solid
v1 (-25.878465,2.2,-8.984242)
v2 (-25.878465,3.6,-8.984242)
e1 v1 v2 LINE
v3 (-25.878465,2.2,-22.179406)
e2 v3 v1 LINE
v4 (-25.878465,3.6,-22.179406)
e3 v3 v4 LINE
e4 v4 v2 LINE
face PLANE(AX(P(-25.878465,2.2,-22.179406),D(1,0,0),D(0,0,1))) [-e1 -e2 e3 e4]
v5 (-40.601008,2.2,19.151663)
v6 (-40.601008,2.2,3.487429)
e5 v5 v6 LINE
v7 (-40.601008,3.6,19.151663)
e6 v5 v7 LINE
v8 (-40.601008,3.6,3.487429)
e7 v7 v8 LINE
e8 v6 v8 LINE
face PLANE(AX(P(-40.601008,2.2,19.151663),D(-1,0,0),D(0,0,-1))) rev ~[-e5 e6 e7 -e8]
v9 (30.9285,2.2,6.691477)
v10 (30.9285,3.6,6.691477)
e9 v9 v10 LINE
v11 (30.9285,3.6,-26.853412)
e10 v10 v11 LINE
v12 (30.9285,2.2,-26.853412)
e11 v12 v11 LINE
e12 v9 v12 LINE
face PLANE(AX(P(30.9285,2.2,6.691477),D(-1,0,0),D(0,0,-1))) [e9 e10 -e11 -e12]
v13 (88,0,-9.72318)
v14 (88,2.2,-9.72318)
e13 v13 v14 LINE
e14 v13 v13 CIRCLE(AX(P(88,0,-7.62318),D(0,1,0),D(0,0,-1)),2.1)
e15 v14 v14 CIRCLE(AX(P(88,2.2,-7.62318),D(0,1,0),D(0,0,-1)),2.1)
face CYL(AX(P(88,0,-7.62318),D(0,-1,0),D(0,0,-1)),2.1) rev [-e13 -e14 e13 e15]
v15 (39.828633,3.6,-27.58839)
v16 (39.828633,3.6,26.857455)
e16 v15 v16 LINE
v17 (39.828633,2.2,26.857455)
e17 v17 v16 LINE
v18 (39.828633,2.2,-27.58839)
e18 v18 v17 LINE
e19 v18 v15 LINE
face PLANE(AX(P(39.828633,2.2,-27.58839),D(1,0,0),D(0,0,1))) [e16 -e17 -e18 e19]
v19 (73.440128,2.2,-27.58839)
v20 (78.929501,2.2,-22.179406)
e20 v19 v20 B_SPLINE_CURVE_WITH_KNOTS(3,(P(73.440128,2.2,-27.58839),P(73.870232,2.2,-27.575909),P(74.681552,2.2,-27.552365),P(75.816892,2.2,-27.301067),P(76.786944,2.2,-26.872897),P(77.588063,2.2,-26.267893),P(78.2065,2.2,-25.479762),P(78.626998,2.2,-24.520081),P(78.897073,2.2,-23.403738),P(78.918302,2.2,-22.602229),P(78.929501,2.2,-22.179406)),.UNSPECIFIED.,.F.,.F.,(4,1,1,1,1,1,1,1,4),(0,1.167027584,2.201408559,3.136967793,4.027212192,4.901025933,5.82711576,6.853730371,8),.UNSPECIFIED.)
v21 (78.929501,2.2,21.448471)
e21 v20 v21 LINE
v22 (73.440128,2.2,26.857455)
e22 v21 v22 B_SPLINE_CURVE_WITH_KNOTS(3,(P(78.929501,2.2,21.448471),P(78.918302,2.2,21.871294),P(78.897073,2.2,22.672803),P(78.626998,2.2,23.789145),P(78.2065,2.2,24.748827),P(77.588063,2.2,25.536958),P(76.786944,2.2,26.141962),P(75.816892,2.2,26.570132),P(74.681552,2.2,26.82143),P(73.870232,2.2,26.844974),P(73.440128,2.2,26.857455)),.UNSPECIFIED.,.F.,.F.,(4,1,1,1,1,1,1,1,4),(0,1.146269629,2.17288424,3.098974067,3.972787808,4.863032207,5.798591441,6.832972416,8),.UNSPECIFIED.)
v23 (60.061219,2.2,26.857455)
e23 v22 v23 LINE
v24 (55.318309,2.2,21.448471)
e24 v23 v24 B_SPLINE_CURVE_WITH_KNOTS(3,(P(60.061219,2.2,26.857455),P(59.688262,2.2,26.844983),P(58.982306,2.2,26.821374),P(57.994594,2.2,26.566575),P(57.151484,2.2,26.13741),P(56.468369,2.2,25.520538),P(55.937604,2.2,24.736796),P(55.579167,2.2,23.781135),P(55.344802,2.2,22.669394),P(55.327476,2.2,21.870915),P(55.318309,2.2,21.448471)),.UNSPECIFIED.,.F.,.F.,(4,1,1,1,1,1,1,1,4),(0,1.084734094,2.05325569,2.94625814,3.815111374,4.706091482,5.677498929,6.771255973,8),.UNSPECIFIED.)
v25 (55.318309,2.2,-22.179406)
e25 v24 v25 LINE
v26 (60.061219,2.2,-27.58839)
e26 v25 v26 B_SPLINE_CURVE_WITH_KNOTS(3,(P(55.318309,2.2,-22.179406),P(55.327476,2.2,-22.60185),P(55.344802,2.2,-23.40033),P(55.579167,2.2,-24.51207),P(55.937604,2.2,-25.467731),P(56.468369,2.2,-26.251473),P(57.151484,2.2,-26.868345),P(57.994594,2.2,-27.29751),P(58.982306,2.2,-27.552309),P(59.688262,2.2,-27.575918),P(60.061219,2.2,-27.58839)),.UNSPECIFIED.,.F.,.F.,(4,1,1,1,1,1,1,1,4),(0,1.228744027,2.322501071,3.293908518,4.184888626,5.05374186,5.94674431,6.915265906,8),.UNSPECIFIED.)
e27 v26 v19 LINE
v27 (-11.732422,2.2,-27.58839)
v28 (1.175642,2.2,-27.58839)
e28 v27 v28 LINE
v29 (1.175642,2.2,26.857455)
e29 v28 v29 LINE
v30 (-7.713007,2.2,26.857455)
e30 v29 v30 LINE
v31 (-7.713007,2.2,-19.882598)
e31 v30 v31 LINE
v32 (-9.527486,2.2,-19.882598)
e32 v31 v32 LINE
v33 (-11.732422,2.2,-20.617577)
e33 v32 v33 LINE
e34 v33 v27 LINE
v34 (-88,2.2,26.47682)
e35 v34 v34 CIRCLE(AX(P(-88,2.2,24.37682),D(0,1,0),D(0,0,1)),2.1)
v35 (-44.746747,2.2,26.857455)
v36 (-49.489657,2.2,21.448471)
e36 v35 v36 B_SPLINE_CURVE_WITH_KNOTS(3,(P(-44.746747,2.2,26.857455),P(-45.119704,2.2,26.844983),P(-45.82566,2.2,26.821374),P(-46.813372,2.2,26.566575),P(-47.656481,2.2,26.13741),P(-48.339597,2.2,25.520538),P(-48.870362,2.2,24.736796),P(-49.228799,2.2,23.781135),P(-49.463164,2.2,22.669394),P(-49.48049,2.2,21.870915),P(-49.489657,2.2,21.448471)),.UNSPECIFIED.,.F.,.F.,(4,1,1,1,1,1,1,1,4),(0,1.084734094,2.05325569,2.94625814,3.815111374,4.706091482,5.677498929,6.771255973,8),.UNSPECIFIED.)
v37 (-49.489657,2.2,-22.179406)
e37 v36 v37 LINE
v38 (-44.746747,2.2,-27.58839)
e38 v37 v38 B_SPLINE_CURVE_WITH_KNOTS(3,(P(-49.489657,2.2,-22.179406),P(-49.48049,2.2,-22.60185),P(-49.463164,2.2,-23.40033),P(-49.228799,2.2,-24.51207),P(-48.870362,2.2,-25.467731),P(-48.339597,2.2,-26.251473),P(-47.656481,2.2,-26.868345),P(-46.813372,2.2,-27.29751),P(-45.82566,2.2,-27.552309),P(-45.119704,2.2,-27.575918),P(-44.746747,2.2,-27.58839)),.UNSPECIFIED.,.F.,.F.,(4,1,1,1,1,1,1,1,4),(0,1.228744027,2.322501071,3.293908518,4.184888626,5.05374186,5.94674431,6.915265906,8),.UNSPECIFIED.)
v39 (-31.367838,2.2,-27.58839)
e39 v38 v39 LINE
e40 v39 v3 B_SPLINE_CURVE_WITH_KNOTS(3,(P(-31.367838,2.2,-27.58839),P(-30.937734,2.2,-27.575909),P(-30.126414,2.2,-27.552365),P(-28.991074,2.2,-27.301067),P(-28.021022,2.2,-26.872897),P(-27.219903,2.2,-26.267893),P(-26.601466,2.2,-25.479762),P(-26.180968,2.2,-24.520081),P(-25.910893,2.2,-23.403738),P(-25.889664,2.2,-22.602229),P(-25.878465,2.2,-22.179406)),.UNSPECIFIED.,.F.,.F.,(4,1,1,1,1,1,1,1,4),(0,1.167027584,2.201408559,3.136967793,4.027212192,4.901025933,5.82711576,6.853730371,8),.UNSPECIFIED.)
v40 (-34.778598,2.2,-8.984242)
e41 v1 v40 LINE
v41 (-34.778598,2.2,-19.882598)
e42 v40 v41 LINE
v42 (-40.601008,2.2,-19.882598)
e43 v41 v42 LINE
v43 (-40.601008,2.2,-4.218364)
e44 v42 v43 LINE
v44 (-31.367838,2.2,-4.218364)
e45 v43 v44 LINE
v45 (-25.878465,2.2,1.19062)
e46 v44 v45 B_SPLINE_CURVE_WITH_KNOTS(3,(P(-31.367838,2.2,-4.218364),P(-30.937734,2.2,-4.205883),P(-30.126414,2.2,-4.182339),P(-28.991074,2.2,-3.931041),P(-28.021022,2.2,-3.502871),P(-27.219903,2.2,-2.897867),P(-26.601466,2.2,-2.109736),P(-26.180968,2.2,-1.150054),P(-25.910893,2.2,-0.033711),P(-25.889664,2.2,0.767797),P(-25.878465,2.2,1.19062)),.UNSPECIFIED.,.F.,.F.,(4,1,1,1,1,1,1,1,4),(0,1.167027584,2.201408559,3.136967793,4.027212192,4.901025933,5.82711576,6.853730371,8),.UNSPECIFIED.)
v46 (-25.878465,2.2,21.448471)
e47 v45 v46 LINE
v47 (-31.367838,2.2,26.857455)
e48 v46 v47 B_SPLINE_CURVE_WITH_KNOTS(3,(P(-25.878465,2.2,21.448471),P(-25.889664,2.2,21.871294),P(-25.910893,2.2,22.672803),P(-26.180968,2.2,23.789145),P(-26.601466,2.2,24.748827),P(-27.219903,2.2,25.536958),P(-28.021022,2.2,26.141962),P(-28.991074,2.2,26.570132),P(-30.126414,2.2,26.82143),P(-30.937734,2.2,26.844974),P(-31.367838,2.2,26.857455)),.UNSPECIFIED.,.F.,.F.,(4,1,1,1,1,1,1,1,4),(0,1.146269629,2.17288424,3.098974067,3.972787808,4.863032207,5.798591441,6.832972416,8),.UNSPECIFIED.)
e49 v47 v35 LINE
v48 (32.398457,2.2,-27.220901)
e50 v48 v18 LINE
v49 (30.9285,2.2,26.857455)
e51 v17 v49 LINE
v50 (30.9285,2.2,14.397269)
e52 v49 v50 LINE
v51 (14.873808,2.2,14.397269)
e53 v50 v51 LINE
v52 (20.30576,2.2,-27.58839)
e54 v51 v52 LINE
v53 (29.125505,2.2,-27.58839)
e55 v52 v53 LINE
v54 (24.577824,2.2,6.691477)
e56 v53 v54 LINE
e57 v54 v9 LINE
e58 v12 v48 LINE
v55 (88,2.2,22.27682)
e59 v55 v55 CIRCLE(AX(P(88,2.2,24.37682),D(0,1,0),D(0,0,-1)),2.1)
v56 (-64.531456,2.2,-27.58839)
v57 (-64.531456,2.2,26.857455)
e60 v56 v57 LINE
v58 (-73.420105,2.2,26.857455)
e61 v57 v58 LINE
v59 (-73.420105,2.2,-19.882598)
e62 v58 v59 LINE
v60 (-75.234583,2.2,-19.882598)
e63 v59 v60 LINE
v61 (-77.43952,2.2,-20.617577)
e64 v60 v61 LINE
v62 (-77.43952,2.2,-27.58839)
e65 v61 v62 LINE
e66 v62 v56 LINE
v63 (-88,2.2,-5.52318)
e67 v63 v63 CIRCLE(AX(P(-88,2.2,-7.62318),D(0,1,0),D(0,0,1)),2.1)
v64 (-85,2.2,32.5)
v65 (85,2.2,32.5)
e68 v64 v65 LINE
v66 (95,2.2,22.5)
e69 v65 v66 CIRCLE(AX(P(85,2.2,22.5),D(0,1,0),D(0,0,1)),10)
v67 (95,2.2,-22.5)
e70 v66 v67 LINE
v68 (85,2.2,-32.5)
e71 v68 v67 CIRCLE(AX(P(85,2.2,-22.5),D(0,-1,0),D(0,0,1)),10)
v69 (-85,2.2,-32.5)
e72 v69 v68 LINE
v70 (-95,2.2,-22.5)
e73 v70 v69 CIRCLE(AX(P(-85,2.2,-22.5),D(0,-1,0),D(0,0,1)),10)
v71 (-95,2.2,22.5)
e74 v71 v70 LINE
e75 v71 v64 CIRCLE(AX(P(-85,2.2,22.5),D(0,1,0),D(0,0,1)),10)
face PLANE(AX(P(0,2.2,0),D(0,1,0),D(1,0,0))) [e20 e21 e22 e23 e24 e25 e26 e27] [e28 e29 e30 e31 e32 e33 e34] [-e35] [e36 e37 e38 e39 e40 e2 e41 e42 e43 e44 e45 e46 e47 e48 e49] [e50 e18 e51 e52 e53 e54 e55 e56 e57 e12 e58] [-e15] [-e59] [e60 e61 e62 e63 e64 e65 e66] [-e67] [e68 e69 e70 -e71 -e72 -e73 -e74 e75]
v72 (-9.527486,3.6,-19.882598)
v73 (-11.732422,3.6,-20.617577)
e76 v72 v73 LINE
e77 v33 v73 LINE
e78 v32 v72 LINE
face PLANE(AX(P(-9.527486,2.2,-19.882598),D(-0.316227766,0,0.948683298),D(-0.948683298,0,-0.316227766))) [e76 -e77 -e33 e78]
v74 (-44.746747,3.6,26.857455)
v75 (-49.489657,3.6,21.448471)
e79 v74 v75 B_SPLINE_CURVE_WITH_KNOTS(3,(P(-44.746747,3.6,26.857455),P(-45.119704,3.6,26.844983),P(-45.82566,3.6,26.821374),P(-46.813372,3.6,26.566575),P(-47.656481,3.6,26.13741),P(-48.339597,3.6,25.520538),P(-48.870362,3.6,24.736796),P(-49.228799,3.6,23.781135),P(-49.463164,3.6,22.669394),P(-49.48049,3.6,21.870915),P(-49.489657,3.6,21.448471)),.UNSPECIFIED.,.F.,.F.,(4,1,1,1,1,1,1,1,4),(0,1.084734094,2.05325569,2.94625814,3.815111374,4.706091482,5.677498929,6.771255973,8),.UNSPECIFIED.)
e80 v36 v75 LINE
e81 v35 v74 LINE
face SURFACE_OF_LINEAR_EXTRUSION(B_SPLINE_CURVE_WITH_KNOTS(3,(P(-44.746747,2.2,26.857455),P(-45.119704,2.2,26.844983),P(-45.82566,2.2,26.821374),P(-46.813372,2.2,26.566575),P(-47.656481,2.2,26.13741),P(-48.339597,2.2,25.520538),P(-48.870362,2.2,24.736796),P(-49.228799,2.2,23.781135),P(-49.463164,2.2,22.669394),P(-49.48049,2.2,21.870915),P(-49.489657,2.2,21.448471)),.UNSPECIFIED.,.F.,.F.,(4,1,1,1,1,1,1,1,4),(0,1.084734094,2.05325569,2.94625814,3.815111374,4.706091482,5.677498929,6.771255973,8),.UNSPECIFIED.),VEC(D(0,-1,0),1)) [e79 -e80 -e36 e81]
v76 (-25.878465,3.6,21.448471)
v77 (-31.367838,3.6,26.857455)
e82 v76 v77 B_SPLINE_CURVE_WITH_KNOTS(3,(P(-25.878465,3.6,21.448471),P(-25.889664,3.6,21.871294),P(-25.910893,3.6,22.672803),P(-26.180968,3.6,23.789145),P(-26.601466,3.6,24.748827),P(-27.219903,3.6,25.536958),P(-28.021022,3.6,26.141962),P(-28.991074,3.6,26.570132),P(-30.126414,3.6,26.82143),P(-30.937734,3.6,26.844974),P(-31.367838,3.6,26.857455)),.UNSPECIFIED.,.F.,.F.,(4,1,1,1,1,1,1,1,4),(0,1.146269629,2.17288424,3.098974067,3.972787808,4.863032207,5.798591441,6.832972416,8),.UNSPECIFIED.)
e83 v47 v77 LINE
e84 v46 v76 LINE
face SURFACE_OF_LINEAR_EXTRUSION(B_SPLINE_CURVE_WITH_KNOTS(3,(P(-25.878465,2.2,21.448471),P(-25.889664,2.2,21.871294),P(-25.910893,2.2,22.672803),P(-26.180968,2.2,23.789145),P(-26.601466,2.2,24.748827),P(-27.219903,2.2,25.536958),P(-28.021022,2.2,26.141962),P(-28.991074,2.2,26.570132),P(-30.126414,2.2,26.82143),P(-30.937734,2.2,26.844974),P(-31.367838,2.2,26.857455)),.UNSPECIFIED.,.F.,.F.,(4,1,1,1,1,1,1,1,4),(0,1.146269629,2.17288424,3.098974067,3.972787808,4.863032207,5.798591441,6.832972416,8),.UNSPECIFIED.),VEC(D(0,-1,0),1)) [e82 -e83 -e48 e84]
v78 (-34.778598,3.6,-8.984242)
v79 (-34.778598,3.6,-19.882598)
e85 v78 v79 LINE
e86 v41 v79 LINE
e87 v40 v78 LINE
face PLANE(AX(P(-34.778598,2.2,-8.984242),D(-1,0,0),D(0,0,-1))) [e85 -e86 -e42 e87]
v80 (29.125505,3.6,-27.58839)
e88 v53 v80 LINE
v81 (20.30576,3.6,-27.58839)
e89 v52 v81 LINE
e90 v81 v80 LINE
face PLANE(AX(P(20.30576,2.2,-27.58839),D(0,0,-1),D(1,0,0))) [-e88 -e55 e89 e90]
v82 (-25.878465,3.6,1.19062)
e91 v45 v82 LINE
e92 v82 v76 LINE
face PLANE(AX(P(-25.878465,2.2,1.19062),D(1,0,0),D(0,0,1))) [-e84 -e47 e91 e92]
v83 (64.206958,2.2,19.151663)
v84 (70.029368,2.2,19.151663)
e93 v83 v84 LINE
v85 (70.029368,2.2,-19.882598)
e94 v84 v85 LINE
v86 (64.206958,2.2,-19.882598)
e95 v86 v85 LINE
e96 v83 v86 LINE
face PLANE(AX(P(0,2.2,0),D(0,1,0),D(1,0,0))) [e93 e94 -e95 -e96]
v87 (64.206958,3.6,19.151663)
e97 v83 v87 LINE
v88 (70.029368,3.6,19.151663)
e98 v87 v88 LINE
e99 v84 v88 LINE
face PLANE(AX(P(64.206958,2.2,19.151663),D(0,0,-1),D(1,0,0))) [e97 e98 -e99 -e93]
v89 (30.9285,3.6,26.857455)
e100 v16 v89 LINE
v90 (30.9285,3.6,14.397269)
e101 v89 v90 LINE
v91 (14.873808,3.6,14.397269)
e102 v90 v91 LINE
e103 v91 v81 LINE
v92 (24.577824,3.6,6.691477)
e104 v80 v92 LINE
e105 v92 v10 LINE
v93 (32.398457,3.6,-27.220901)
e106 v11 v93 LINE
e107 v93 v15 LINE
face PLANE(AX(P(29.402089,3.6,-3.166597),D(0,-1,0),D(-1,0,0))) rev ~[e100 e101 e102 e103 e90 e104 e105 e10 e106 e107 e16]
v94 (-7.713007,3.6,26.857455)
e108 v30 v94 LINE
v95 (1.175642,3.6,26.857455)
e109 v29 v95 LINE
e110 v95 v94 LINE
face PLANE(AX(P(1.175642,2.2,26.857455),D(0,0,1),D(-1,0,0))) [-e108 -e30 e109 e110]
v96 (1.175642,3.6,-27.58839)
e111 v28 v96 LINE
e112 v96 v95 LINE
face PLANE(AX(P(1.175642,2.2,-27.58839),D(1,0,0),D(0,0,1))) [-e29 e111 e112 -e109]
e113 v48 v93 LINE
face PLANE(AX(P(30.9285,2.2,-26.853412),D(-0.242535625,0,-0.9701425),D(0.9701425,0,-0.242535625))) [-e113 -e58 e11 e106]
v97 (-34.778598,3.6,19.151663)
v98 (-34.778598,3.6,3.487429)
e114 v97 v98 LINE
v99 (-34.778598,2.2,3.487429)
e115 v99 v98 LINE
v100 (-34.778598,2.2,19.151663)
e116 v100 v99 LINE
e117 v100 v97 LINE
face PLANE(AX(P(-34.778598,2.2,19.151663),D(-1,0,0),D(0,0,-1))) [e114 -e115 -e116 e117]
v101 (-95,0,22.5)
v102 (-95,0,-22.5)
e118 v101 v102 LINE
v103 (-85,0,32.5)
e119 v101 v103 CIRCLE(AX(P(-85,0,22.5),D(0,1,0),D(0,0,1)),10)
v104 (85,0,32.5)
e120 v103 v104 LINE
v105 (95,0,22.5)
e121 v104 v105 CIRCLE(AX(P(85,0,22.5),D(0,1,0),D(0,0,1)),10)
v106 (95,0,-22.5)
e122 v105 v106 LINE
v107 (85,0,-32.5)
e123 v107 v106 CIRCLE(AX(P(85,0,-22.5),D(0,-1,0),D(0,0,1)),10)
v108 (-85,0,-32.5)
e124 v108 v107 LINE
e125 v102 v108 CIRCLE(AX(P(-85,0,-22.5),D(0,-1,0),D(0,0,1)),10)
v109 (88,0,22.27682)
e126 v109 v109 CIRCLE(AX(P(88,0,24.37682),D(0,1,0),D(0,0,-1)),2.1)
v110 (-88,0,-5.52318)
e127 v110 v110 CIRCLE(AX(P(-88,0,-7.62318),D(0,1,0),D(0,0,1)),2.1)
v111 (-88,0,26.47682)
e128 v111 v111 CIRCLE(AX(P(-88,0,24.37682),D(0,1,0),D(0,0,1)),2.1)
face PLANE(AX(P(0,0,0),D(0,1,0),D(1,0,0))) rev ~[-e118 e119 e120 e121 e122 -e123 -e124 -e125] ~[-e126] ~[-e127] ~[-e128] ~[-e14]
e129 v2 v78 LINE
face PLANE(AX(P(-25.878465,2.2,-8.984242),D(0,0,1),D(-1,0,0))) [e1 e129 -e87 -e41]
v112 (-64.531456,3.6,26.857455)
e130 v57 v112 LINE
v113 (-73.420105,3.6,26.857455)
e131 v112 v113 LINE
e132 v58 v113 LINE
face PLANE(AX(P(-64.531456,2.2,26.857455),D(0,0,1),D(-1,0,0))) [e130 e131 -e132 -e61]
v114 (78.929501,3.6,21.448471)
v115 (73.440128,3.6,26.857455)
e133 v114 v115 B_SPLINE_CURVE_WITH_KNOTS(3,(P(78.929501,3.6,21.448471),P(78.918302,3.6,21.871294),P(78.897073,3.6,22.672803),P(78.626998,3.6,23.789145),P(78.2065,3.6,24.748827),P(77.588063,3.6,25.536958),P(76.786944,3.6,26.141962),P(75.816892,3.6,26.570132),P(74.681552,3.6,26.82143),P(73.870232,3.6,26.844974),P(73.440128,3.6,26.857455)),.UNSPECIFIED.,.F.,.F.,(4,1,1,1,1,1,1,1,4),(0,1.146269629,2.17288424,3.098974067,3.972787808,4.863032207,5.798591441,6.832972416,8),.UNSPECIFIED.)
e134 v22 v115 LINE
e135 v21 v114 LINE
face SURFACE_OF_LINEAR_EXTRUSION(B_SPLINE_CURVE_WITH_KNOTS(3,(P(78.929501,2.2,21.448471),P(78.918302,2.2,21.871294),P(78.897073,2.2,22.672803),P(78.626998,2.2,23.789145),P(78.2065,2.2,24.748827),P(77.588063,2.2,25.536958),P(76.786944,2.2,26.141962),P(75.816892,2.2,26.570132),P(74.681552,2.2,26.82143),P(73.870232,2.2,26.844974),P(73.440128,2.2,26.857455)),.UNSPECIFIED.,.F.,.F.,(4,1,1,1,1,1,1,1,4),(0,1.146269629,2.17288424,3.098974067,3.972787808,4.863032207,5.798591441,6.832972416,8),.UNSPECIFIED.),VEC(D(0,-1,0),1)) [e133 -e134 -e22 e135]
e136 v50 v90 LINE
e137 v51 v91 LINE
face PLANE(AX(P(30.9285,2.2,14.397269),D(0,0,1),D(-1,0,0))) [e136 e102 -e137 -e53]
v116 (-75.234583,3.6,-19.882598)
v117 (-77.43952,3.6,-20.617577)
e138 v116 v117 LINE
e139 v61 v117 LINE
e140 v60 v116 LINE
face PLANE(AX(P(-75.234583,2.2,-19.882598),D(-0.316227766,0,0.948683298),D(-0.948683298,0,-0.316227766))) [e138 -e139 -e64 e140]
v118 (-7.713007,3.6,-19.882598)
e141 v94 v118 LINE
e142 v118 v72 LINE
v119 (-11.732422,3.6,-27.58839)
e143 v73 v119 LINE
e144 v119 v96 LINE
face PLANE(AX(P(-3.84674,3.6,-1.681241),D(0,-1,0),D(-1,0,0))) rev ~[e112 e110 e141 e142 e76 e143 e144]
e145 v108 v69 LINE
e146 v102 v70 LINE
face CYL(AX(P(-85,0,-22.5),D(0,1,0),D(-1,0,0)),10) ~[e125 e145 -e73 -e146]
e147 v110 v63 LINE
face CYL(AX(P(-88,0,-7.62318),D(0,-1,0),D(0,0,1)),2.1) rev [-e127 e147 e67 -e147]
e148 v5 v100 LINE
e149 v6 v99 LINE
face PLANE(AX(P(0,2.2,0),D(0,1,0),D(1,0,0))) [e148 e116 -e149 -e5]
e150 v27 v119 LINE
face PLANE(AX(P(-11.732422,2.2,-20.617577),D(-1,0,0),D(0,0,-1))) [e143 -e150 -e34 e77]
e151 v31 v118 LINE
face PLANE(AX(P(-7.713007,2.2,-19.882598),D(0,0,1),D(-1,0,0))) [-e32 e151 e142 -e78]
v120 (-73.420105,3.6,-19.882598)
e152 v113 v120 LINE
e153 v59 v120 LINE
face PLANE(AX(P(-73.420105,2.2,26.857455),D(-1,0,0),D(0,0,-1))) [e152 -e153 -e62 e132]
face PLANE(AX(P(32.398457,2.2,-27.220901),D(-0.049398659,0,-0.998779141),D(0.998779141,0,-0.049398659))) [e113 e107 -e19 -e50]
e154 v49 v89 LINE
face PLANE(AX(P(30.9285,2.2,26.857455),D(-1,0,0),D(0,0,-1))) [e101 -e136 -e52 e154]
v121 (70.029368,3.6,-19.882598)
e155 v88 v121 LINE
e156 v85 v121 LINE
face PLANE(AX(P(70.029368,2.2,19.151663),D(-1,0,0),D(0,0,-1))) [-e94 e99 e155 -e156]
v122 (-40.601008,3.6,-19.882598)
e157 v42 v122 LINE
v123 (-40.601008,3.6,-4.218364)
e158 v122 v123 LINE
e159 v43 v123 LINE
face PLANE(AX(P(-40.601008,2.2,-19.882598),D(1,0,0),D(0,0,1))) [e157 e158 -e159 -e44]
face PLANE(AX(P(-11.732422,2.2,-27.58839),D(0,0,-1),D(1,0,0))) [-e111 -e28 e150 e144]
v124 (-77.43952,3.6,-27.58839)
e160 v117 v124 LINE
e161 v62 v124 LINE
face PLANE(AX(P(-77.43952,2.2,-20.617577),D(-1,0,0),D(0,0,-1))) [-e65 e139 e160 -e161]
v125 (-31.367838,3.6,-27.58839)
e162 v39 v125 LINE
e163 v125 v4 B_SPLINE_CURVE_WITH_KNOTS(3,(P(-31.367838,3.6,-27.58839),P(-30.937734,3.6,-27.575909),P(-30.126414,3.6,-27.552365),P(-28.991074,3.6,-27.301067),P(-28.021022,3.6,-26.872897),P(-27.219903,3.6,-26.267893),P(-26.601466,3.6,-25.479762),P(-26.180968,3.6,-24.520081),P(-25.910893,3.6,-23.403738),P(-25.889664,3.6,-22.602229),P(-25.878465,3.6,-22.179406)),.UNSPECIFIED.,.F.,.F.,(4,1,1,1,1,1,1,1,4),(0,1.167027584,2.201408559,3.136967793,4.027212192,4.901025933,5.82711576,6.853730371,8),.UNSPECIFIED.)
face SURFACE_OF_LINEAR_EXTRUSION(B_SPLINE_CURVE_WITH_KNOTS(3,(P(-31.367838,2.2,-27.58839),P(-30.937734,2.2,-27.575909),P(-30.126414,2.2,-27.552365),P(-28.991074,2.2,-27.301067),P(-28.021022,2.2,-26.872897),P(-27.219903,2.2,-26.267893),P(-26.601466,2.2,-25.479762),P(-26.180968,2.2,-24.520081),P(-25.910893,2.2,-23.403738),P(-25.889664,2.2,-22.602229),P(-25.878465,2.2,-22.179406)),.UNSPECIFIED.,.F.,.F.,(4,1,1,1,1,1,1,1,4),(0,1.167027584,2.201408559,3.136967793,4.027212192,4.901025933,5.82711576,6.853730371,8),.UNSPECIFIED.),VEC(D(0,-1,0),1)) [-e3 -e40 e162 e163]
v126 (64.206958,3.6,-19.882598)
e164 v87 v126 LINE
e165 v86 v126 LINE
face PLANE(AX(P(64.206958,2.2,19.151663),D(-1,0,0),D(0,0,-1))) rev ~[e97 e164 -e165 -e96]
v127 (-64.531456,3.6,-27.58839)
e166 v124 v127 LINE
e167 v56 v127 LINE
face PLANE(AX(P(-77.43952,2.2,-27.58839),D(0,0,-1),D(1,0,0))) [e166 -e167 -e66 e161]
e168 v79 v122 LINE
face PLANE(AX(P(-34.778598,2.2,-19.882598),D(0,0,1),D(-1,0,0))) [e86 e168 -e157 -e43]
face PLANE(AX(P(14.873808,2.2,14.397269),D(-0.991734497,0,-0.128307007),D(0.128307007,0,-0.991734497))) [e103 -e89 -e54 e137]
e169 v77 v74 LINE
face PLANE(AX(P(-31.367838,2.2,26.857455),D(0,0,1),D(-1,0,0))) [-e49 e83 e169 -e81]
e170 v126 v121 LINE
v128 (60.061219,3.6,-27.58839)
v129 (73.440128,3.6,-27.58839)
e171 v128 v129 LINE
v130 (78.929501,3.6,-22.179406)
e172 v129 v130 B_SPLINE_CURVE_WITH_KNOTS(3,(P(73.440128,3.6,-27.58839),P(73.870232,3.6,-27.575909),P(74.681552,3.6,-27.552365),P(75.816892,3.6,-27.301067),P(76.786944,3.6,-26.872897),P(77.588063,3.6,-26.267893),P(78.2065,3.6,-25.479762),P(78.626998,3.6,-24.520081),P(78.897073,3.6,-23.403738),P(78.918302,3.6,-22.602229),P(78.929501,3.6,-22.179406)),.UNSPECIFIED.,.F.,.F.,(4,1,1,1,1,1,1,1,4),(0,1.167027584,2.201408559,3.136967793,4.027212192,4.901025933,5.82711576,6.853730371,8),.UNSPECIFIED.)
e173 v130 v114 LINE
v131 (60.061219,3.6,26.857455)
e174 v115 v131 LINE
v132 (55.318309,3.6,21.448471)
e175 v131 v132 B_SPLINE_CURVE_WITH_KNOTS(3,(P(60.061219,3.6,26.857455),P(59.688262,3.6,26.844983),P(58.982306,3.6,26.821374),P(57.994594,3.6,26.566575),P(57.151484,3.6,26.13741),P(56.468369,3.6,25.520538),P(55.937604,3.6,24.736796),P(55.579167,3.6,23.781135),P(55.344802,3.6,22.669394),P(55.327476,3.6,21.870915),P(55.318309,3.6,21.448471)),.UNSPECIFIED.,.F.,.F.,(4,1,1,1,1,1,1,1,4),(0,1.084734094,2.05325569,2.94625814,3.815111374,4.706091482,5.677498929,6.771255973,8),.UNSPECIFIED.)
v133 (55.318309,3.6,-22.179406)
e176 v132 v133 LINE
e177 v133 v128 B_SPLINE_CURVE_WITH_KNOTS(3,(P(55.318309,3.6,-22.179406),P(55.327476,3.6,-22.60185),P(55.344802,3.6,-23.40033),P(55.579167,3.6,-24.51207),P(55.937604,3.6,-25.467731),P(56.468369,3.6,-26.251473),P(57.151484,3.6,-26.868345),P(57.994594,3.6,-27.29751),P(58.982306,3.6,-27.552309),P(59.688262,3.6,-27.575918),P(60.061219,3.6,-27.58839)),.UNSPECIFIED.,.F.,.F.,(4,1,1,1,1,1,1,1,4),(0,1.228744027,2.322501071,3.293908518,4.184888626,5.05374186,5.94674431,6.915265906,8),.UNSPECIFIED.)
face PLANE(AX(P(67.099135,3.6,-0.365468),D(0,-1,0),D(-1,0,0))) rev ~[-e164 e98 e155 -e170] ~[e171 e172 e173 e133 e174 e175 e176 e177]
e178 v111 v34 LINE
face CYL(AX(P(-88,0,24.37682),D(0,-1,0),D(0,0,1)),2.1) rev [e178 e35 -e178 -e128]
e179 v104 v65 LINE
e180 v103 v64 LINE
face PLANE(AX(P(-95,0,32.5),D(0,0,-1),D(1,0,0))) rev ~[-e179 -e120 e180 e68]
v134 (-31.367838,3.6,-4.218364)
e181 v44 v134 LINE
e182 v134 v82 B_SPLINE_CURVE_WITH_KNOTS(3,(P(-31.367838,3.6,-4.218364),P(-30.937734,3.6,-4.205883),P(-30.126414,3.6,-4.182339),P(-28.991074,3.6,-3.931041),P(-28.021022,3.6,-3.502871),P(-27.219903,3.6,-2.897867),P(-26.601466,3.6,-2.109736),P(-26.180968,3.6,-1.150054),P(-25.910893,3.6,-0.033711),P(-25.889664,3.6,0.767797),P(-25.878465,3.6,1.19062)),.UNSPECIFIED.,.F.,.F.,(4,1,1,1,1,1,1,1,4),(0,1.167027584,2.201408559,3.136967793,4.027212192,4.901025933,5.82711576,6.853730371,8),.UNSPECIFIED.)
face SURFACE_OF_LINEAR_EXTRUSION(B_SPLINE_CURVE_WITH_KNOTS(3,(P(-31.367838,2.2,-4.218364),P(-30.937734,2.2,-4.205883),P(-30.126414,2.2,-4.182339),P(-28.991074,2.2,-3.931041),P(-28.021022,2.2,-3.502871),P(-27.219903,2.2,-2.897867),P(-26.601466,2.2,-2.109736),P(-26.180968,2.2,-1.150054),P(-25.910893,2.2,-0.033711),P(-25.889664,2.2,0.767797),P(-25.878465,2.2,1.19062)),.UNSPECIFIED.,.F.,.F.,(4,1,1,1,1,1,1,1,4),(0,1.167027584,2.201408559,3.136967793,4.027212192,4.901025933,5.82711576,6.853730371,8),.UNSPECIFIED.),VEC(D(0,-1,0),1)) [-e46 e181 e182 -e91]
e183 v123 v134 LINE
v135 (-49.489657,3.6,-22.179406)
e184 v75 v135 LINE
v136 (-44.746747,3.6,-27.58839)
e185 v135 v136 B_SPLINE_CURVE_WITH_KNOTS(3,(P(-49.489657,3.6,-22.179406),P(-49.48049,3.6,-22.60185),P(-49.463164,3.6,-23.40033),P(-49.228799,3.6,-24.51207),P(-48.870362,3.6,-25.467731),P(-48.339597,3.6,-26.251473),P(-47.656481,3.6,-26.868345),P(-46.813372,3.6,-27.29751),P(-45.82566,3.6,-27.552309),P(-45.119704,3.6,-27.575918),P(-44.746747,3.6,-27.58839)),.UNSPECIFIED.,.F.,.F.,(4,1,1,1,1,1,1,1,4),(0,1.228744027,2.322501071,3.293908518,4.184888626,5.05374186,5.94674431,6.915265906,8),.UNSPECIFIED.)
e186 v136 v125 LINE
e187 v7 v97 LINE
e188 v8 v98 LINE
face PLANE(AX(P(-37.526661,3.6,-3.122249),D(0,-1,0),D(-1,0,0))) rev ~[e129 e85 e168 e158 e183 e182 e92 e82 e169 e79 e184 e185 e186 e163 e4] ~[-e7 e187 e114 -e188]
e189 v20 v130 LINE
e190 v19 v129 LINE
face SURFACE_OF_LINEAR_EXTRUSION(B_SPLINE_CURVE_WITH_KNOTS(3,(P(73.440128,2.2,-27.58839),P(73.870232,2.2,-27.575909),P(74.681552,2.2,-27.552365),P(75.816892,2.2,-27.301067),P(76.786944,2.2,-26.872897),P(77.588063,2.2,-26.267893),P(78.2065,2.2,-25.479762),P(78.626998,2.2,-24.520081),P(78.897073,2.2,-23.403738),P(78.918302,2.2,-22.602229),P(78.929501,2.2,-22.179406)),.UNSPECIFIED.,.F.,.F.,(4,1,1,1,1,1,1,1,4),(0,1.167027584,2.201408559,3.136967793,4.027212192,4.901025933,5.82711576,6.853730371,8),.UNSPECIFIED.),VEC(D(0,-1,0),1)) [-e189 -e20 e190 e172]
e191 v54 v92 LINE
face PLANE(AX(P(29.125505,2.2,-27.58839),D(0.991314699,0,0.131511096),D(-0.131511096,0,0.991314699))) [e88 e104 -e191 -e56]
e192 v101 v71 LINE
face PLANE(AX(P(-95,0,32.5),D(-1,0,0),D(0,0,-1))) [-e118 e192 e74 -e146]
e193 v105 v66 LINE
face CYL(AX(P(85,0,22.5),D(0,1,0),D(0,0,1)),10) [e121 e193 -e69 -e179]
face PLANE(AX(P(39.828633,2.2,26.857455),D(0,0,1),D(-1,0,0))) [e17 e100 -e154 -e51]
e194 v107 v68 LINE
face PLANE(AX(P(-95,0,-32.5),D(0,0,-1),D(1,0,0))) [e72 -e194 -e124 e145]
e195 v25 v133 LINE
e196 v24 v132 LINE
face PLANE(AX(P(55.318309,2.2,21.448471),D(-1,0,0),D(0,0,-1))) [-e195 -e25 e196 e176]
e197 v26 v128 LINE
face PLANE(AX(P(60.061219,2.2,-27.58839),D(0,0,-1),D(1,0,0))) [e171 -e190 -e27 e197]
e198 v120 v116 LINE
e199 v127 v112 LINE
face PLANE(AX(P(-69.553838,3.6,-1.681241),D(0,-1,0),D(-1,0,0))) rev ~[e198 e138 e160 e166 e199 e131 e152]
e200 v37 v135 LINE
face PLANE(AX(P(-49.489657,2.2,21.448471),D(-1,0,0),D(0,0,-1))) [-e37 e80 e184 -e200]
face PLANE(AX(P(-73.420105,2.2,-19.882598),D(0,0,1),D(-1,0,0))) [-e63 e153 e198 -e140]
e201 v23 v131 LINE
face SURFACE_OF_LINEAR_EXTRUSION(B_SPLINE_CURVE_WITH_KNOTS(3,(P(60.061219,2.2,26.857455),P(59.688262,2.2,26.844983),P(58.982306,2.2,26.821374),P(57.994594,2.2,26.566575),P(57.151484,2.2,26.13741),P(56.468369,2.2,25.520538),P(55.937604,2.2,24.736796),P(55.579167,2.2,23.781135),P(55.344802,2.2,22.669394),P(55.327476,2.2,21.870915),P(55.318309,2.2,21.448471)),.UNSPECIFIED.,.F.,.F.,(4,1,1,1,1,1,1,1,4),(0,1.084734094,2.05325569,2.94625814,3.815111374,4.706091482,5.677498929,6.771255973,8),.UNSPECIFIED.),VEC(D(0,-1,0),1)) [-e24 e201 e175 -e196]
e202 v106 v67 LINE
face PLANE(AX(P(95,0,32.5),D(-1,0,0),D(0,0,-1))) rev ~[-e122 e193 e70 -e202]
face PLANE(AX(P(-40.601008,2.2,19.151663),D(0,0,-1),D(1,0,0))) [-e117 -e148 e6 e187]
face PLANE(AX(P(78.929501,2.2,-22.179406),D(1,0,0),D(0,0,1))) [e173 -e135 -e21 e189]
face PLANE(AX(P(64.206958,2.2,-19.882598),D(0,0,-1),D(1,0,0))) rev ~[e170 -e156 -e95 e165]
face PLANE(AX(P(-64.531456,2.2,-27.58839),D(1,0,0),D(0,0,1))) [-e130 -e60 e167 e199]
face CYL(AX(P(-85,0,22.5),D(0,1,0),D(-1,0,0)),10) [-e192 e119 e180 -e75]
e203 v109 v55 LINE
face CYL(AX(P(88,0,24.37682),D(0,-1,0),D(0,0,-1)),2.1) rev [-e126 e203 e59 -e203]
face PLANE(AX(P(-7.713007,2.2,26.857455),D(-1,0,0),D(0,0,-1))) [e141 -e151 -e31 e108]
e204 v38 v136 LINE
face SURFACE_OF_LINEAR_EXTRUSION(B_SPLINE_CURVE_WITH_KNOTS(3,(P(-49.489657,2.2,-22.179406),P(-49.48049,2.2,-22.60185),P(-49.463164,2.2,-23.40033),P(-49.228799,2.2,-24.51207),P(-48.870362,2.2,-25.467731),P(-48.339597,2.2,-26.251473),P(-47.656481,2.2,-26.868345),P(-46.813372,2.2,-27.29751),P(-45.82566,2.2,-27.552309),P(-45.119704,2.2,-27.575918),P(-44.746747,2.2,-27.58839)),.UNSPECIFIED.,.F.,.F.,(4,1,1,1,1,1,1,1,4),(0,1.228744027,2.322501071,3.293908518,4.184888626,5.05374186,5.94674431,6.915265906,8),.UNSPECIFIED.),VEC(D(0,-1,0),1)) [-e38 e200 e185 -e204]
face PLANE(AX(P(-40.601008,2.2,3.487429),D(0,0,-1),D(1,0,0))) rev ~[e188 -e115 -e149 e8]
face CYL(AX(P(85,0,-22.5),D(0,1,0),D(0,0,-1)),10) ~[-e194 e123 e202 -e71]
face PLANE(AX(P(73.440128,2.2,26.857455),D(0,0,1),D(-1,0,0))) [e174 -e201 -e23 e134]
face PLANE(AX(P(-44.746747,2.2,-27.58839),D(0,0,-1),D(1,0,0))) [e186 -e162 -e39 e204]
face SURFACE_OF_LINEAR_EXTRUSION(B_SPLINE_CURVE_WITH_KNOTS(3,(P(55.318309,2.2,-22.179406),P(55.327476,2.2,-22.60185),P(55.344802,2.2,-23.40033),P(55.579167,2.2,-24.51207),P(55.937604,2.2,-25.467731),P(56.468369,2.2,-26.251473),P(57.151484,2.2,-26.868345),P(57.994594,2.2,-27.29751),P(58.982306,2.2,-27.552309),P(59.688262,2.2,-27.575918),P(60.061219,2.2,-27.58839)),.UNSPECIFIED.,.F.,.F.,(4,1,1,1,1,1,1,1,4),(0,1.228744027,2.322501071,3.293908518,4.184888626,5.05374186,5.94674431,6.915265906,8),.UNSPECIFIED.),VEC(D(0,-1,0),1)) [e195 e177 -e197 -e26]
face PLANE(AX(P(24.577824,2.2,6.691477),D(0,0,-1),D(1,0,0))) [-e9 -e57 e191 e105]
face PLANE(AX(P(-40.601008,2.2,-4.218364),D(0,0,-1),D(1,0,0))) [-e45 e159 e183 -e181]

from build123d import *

# Parameters (mm, degrees)
SKETCH1_W           = 190
SKETCH1_H           = 65
SKETCH1_R           = 2.1
BOSS_EXTRUDE1_DEPTH = 2.2
SKETCH3_W           = 5.822409575
SKETCH3_H           = 15.664234042
SKETCH3_W_2         = 5.822409574
SKETCH3_H_2         = 39.034260638
BOSS_EXTRUDE3_DEPTH = 1.4
FILLET1_R           = 10


with BuildPart() as part:
    # Sketch1 → Boss-Extrude1 (new body)
    with BuildSketch(Plane(origin=(0, 0, 0), x_dir=(1, 0, 0), z_dir=(0, 1, 0))):
        Rectangle(SKETCH1_W, SKETCH1_H)
        with Locations(Location((-88, 7.623179707, 0), (0, 0, 270))):
            Circle(SKETCH1_R, mode=Mode.SUBTRACT)
        with Locations(Location((-88, -24.376820293, 0), (0, 0, 270))):
            Circle(SKETCH1_R, mode=Mode.SUBTRACT)
        with Locations(Location((88, -24.376820293, 0), (0, 0, 90))):
            Circle(SKETCH1_R, mode=Mode.SUBTRACT)
        with Locations(Location((88, 7.623179707, 0), (0, 0, 90))):
            Circle(SKETCH1_R, mode=Mode.SUBTRACT)
    extrude(amount=BOSS_EXTRUDE1_DEPTH)

    # Sketch3 → Boss-Extrude3 (add)
    # profile 1 of 5: a face of its own
    with BuildSketch(Plane(origin=(0, 2.2, 0), x_dir=(1, 0, 0), z_dir=(0, 1, 0))):
        Polygon((-77.439519604, 20.61757665), (-77.439519604, 27.58839048), (-64.531455774, 27.58839048), (-64.531455774, -26.857455265), (-73.42010471, -26.857455265), (-73.42010471, 19.882597927), (-75.234583434, 19.882597927), align=None)
    # profile 2 of 5: a face of its own
    with BuildSketch(Plane(origin=(0, 2.2, 0), x_dir=(1, 0, 0), z_dir=(0, 1, 0))):
        with BuildLine():
            Line((-34.778598327, 8.984241544), (-34.778598327, 19.882597927))
            Line((-34.778598327, 19.882597927), (-40.601007902, 19.882597927))
            Line((-40.601007902, 19.882597927), (-40.601007902, 4.218363884))
            Line((-40.601007902, 4.218363884), (-31.367837689, 4.218363884))
            add(Edge.make_bspline(
                [(-31.367837689, 4.218363884), (-30.937734177, 4.205882557), (-30.126413548, 4.182338553), (-28.991073812, 3.931040784), (-28.02102206, 3.502870767), (-27.219902727, 2.897866579), (-26.601465528, 2.109735687), (-26.1809682, 1.150054083), (-25.910893392, 0.033711404), (-25.889664372, -0.767797312), (-25.878465349, -1.190620158)],
                knots=[0, 0, 0, 0, 1.167027584, 2.201408559, 3.136967793, 4.027212192, 4.901025933, 5.82711576, 6.853730371, 8, 8, 8, 8], degree=3))
            Line((-25.878465349, -1.190620158), (-25.878465349, -21.448471222))
            add(Edge.make_bspline(
                [(-25.878465349, -21.448471222), (-25.889664372, -21.871294068), (-25.910893392, -22.672802785), (-26.1809682, -23.789145463), (-26.601465528, -24.748827067), (-27.219902727, -25.53695796), (-28.02102206, -26.141962147), (-28.991073812, -26.570132165), (-30.126413548, -26.821429933), (-30.937734177, -26.844973937), (-31.367837689, -26.857455265)],
                knots=[0, 0, 0, 0, 1.146269629, 2.17288424, 3.098974067, 3.972787808, 4.863032207, 5.798591441, 6.832972416, 8, 8, 8, 8], degree=3))
            Line((-31.367837689, -26.857455265), (-44.746747264, -26.857455265))
            add(Edge.make_bspline(
                [(-44.746747264, -26.857455265), (-45.119703537, -26.844982711), (-45.825659581, -26.821373845), (-46.813372336, -26.566574969), (-47.656481489, -26.137409968), (-48.33959709, -25.520537859), (-48.870362201, -24.736796043), (-49.228799232, -23.781135063), (-49.463163603, -22.669394461), (-49.48049008, -21.870915209), (-49.489656838, -21.448471222)],
                knots=[0, 0, 0, 0, 1.084734094, 2.05325569, 2.94625814, 3.815111374, 4.706091482, 5.677498929, 6.771255973, 8, 8, 8, 8], degree=3))
            Line((-49.489656838, -21.448471222), (-49.489656838, 22.179406438))
            add(Edge.make_bspline(
                [(-49.489656838, 22.179406438), (-49.48049008, 22.601850424), (-49.463163603, 23.400329677), (-49.228799232, 24.512070279), (-48.870362201, 25.467731259), (-48.33959709, 26.251473075), (-47.656481489, 26.868345184), (-46.813372336, 27.297510184), (-45.825659581, 27.55230906), (-45.119703537, 27.575917926), (-44.746747264, 27.58839048)],
                knots=[0, 0, 0, 0, 1.228744027, 2.322501071, 3.293908518, 4.184888626, 5.05374186, 5.94674431, 6.915265906, 8, 8, 8, 8], degree=3))
            Line((-44.746747264, 27.58839048), (-31.367837689, 27.58839048))
            add(Edge.make_bspline(
                [(-31.367837689, 27.58839048), (-30.937734177, 27.575909152), (-30.126413548, 27.552365149), (-28.991073812, 27.30106738), (-28.02102206, 26.872897363), (-27.219902727, 26.267893175), (-26.601465528, 25.479762283), (-26.1809682, 24.520080679), (-25.910893392, 23.403738), (-25.889664372, 22.602229284), (-25.878465349, 22.179406438)],
                knots=[0, 0, 0, 0, 1.167027584, 2.201408559, 3.136967793, 4.027212192, 4.901025933, 5.82711576, 6.853730371, 8, 8, 8, 8], degree=3))
            Line((-25.878465349, 22.179406438), (-25.878465349, 8.984241544))
            Line((-25.878465349, 8.984241544), (-34.778598327, 8.984241544))
        make_face()
        with Locations((-37.689803115, -11.31954569)):
            Rectangle(SKETCH3_W, SKETCH3_H, mode=Mode.SUBTRACT)
    # profile 3 of 5: a face of its own
    with BuildSketch(Plane(origin=(0, 2.2, 0), x_dir=(1, 0, 0), z_dir=(0, 1, 0))):
        Polygon((-11.732421732, 20.61757665), (-11.732421732, 27.58839048), (1.175642098, 27.58839048), (1.175642098, -26.857455265), (-7.713006838, -26.857455265), (-7.713006838, 19.882597927), (-9.527485561, 19.882597927), align=None)
    # profile 4 of 5: a face of its own
    with BuildSketch(Plane(origin=(0, 2.2, 0), x_dir=(1, 0, 0), z_dir=(0, 1, 0))):
        Polygon((32.398456992, 27.220901118), (39.828632524, 27.58839048), (39.828632524, -26.857455265), (30.928499545, -26.857455265), (30.928499545, -14.397269094), (14.873808056, -14.397269094), (20.305760183, 27.58839048), (29.125504864, 27.58839048), (24.577824013, -6.691476541), (30.928499545, -6.691476541), (30.928499545, 26.853411757), align=None)
    # profile 5 of 5: a face of its own
    with BuildSketch(Plane(origin=(0, 2.2, 0), x_dir=(1, 0, 0), z_dir=(0, 1, 0))):
        with BuildLine():
            add(Edge.make_bspline(
                [(73.440128268, 27.58839048), (73.870231781, 27.575909152), (74.68155241, 27.552365149), (75.816892146, 27.30106738), (76.786943898, 26.872897363), (77.58806323, 26.267893175), (78.20650043, 25.479762283), (78.626997757, 24.520080679), (78.897072565, 23.403738), (78.918301585, 22.602229284), (78.929500609, 22.179406438)],
                knots=[0, 0, 0, 0, 1.167027584, 2.201408559, 3.136967793, 4.027212192, 4.901025933, 5.82711576, 6.853730371, 8, 8, 8, 8], degree=3))
            Line((78.929500609, 22.179406438), (78.929500609, -21.448471222))
            add(Edge.make_bspline(
                [(78.929500609, -21.448471222), (78.918301585, -21.871294068), (78.897072565, -22.672802785), (78.626997757, -23.789145463), (78.20650043, -24.748827067), (77.58806323, -25.53695796), (76.786943898, -26.141962147), (75.816892146, -26.570132165), (74.68155241, -26.821429933), (73.870231781, -26.844973937), (73.440128268, -26.857455265)],
                knots=[0, 0, 0, 0, 1.146269629, 2.17288424, 3.098974067, 3.972787808, 4.863032207, 5.798591441, 6.832972416, 8, 8, 8, 8], degree=3))
            Line((73.440128268, -26.857455265), (60.061218694, -26.857455265))
            add(Edge.make_bspline(
                [(60.061218694, -26.857455265), (59.688262421, -26.844982711), (58.982306376, -26.821373845), (57.994593622, -26.566574969), (57.151484468, -26.137409968), (56.468368867, -25.520537859), (55.937603756, -24.736796043), (55.579166725, -23.781135063), (55.344802355, -22.669394461), (55.327475878, -21.870915209), (55.318309119, -21.448471222)],
                knots=[0, 0, 0, 0, 1.084734094, 2.05325569, 2.94625814, 3.815111374, 4.706091482, 5.677498929, 6.771255973, 8, 8, 8, 8], degree=3))
            Line((55.318309119, -21.448471222), (55.318309119, 22.179406438))
            add(Edge.make_bspline(
                [(55.318309119, 22.179406438), (55.327475878, 22.601850424), (55.344802355, 23.400329677), (55.579166725, 24.512070279), (55.937603756, 25.467731259), (56.468368867, 26.251473075), (57.151484468, 26.868345184), (57.994593622, 27.297510184), (58.982306376, 27.55230906), (59.688262421, 27.575917926), (60.061218694, 27.58839048)],
                knots=[0, 0, 0, 0, 1.228744027, 2.322501071, 3.293908518, 4.184888626, 5.05374186, 5.94674431, 6.915265906, 8, 8, 8, 8], degree=3))
            Line((60.061218694, 27.58839048), (73.440128268, 27.58839048))
        make_face()
        with Locations((67.118162843, 0.365467608)):
            Rectangle(SKETCH3_W_2, SKETCH3_H_2, mode=Mode.SUBTRACT)
    extrude(amount=BOSS_EXTRUDE3_DEPTH)

    # Fillet1
    fillet1_edges = [part.edges().sort_by_distance(p)[0] for p in [
        (95, 1.1, 32.5),
        (-95, 1.1, 32.5),
        (-95, 1.1, -32.5),
        (95, 1.1, -32.5),
    ]]
    fillet(fillet1_edges, radius=FILLET1_R)


solid = part.part
